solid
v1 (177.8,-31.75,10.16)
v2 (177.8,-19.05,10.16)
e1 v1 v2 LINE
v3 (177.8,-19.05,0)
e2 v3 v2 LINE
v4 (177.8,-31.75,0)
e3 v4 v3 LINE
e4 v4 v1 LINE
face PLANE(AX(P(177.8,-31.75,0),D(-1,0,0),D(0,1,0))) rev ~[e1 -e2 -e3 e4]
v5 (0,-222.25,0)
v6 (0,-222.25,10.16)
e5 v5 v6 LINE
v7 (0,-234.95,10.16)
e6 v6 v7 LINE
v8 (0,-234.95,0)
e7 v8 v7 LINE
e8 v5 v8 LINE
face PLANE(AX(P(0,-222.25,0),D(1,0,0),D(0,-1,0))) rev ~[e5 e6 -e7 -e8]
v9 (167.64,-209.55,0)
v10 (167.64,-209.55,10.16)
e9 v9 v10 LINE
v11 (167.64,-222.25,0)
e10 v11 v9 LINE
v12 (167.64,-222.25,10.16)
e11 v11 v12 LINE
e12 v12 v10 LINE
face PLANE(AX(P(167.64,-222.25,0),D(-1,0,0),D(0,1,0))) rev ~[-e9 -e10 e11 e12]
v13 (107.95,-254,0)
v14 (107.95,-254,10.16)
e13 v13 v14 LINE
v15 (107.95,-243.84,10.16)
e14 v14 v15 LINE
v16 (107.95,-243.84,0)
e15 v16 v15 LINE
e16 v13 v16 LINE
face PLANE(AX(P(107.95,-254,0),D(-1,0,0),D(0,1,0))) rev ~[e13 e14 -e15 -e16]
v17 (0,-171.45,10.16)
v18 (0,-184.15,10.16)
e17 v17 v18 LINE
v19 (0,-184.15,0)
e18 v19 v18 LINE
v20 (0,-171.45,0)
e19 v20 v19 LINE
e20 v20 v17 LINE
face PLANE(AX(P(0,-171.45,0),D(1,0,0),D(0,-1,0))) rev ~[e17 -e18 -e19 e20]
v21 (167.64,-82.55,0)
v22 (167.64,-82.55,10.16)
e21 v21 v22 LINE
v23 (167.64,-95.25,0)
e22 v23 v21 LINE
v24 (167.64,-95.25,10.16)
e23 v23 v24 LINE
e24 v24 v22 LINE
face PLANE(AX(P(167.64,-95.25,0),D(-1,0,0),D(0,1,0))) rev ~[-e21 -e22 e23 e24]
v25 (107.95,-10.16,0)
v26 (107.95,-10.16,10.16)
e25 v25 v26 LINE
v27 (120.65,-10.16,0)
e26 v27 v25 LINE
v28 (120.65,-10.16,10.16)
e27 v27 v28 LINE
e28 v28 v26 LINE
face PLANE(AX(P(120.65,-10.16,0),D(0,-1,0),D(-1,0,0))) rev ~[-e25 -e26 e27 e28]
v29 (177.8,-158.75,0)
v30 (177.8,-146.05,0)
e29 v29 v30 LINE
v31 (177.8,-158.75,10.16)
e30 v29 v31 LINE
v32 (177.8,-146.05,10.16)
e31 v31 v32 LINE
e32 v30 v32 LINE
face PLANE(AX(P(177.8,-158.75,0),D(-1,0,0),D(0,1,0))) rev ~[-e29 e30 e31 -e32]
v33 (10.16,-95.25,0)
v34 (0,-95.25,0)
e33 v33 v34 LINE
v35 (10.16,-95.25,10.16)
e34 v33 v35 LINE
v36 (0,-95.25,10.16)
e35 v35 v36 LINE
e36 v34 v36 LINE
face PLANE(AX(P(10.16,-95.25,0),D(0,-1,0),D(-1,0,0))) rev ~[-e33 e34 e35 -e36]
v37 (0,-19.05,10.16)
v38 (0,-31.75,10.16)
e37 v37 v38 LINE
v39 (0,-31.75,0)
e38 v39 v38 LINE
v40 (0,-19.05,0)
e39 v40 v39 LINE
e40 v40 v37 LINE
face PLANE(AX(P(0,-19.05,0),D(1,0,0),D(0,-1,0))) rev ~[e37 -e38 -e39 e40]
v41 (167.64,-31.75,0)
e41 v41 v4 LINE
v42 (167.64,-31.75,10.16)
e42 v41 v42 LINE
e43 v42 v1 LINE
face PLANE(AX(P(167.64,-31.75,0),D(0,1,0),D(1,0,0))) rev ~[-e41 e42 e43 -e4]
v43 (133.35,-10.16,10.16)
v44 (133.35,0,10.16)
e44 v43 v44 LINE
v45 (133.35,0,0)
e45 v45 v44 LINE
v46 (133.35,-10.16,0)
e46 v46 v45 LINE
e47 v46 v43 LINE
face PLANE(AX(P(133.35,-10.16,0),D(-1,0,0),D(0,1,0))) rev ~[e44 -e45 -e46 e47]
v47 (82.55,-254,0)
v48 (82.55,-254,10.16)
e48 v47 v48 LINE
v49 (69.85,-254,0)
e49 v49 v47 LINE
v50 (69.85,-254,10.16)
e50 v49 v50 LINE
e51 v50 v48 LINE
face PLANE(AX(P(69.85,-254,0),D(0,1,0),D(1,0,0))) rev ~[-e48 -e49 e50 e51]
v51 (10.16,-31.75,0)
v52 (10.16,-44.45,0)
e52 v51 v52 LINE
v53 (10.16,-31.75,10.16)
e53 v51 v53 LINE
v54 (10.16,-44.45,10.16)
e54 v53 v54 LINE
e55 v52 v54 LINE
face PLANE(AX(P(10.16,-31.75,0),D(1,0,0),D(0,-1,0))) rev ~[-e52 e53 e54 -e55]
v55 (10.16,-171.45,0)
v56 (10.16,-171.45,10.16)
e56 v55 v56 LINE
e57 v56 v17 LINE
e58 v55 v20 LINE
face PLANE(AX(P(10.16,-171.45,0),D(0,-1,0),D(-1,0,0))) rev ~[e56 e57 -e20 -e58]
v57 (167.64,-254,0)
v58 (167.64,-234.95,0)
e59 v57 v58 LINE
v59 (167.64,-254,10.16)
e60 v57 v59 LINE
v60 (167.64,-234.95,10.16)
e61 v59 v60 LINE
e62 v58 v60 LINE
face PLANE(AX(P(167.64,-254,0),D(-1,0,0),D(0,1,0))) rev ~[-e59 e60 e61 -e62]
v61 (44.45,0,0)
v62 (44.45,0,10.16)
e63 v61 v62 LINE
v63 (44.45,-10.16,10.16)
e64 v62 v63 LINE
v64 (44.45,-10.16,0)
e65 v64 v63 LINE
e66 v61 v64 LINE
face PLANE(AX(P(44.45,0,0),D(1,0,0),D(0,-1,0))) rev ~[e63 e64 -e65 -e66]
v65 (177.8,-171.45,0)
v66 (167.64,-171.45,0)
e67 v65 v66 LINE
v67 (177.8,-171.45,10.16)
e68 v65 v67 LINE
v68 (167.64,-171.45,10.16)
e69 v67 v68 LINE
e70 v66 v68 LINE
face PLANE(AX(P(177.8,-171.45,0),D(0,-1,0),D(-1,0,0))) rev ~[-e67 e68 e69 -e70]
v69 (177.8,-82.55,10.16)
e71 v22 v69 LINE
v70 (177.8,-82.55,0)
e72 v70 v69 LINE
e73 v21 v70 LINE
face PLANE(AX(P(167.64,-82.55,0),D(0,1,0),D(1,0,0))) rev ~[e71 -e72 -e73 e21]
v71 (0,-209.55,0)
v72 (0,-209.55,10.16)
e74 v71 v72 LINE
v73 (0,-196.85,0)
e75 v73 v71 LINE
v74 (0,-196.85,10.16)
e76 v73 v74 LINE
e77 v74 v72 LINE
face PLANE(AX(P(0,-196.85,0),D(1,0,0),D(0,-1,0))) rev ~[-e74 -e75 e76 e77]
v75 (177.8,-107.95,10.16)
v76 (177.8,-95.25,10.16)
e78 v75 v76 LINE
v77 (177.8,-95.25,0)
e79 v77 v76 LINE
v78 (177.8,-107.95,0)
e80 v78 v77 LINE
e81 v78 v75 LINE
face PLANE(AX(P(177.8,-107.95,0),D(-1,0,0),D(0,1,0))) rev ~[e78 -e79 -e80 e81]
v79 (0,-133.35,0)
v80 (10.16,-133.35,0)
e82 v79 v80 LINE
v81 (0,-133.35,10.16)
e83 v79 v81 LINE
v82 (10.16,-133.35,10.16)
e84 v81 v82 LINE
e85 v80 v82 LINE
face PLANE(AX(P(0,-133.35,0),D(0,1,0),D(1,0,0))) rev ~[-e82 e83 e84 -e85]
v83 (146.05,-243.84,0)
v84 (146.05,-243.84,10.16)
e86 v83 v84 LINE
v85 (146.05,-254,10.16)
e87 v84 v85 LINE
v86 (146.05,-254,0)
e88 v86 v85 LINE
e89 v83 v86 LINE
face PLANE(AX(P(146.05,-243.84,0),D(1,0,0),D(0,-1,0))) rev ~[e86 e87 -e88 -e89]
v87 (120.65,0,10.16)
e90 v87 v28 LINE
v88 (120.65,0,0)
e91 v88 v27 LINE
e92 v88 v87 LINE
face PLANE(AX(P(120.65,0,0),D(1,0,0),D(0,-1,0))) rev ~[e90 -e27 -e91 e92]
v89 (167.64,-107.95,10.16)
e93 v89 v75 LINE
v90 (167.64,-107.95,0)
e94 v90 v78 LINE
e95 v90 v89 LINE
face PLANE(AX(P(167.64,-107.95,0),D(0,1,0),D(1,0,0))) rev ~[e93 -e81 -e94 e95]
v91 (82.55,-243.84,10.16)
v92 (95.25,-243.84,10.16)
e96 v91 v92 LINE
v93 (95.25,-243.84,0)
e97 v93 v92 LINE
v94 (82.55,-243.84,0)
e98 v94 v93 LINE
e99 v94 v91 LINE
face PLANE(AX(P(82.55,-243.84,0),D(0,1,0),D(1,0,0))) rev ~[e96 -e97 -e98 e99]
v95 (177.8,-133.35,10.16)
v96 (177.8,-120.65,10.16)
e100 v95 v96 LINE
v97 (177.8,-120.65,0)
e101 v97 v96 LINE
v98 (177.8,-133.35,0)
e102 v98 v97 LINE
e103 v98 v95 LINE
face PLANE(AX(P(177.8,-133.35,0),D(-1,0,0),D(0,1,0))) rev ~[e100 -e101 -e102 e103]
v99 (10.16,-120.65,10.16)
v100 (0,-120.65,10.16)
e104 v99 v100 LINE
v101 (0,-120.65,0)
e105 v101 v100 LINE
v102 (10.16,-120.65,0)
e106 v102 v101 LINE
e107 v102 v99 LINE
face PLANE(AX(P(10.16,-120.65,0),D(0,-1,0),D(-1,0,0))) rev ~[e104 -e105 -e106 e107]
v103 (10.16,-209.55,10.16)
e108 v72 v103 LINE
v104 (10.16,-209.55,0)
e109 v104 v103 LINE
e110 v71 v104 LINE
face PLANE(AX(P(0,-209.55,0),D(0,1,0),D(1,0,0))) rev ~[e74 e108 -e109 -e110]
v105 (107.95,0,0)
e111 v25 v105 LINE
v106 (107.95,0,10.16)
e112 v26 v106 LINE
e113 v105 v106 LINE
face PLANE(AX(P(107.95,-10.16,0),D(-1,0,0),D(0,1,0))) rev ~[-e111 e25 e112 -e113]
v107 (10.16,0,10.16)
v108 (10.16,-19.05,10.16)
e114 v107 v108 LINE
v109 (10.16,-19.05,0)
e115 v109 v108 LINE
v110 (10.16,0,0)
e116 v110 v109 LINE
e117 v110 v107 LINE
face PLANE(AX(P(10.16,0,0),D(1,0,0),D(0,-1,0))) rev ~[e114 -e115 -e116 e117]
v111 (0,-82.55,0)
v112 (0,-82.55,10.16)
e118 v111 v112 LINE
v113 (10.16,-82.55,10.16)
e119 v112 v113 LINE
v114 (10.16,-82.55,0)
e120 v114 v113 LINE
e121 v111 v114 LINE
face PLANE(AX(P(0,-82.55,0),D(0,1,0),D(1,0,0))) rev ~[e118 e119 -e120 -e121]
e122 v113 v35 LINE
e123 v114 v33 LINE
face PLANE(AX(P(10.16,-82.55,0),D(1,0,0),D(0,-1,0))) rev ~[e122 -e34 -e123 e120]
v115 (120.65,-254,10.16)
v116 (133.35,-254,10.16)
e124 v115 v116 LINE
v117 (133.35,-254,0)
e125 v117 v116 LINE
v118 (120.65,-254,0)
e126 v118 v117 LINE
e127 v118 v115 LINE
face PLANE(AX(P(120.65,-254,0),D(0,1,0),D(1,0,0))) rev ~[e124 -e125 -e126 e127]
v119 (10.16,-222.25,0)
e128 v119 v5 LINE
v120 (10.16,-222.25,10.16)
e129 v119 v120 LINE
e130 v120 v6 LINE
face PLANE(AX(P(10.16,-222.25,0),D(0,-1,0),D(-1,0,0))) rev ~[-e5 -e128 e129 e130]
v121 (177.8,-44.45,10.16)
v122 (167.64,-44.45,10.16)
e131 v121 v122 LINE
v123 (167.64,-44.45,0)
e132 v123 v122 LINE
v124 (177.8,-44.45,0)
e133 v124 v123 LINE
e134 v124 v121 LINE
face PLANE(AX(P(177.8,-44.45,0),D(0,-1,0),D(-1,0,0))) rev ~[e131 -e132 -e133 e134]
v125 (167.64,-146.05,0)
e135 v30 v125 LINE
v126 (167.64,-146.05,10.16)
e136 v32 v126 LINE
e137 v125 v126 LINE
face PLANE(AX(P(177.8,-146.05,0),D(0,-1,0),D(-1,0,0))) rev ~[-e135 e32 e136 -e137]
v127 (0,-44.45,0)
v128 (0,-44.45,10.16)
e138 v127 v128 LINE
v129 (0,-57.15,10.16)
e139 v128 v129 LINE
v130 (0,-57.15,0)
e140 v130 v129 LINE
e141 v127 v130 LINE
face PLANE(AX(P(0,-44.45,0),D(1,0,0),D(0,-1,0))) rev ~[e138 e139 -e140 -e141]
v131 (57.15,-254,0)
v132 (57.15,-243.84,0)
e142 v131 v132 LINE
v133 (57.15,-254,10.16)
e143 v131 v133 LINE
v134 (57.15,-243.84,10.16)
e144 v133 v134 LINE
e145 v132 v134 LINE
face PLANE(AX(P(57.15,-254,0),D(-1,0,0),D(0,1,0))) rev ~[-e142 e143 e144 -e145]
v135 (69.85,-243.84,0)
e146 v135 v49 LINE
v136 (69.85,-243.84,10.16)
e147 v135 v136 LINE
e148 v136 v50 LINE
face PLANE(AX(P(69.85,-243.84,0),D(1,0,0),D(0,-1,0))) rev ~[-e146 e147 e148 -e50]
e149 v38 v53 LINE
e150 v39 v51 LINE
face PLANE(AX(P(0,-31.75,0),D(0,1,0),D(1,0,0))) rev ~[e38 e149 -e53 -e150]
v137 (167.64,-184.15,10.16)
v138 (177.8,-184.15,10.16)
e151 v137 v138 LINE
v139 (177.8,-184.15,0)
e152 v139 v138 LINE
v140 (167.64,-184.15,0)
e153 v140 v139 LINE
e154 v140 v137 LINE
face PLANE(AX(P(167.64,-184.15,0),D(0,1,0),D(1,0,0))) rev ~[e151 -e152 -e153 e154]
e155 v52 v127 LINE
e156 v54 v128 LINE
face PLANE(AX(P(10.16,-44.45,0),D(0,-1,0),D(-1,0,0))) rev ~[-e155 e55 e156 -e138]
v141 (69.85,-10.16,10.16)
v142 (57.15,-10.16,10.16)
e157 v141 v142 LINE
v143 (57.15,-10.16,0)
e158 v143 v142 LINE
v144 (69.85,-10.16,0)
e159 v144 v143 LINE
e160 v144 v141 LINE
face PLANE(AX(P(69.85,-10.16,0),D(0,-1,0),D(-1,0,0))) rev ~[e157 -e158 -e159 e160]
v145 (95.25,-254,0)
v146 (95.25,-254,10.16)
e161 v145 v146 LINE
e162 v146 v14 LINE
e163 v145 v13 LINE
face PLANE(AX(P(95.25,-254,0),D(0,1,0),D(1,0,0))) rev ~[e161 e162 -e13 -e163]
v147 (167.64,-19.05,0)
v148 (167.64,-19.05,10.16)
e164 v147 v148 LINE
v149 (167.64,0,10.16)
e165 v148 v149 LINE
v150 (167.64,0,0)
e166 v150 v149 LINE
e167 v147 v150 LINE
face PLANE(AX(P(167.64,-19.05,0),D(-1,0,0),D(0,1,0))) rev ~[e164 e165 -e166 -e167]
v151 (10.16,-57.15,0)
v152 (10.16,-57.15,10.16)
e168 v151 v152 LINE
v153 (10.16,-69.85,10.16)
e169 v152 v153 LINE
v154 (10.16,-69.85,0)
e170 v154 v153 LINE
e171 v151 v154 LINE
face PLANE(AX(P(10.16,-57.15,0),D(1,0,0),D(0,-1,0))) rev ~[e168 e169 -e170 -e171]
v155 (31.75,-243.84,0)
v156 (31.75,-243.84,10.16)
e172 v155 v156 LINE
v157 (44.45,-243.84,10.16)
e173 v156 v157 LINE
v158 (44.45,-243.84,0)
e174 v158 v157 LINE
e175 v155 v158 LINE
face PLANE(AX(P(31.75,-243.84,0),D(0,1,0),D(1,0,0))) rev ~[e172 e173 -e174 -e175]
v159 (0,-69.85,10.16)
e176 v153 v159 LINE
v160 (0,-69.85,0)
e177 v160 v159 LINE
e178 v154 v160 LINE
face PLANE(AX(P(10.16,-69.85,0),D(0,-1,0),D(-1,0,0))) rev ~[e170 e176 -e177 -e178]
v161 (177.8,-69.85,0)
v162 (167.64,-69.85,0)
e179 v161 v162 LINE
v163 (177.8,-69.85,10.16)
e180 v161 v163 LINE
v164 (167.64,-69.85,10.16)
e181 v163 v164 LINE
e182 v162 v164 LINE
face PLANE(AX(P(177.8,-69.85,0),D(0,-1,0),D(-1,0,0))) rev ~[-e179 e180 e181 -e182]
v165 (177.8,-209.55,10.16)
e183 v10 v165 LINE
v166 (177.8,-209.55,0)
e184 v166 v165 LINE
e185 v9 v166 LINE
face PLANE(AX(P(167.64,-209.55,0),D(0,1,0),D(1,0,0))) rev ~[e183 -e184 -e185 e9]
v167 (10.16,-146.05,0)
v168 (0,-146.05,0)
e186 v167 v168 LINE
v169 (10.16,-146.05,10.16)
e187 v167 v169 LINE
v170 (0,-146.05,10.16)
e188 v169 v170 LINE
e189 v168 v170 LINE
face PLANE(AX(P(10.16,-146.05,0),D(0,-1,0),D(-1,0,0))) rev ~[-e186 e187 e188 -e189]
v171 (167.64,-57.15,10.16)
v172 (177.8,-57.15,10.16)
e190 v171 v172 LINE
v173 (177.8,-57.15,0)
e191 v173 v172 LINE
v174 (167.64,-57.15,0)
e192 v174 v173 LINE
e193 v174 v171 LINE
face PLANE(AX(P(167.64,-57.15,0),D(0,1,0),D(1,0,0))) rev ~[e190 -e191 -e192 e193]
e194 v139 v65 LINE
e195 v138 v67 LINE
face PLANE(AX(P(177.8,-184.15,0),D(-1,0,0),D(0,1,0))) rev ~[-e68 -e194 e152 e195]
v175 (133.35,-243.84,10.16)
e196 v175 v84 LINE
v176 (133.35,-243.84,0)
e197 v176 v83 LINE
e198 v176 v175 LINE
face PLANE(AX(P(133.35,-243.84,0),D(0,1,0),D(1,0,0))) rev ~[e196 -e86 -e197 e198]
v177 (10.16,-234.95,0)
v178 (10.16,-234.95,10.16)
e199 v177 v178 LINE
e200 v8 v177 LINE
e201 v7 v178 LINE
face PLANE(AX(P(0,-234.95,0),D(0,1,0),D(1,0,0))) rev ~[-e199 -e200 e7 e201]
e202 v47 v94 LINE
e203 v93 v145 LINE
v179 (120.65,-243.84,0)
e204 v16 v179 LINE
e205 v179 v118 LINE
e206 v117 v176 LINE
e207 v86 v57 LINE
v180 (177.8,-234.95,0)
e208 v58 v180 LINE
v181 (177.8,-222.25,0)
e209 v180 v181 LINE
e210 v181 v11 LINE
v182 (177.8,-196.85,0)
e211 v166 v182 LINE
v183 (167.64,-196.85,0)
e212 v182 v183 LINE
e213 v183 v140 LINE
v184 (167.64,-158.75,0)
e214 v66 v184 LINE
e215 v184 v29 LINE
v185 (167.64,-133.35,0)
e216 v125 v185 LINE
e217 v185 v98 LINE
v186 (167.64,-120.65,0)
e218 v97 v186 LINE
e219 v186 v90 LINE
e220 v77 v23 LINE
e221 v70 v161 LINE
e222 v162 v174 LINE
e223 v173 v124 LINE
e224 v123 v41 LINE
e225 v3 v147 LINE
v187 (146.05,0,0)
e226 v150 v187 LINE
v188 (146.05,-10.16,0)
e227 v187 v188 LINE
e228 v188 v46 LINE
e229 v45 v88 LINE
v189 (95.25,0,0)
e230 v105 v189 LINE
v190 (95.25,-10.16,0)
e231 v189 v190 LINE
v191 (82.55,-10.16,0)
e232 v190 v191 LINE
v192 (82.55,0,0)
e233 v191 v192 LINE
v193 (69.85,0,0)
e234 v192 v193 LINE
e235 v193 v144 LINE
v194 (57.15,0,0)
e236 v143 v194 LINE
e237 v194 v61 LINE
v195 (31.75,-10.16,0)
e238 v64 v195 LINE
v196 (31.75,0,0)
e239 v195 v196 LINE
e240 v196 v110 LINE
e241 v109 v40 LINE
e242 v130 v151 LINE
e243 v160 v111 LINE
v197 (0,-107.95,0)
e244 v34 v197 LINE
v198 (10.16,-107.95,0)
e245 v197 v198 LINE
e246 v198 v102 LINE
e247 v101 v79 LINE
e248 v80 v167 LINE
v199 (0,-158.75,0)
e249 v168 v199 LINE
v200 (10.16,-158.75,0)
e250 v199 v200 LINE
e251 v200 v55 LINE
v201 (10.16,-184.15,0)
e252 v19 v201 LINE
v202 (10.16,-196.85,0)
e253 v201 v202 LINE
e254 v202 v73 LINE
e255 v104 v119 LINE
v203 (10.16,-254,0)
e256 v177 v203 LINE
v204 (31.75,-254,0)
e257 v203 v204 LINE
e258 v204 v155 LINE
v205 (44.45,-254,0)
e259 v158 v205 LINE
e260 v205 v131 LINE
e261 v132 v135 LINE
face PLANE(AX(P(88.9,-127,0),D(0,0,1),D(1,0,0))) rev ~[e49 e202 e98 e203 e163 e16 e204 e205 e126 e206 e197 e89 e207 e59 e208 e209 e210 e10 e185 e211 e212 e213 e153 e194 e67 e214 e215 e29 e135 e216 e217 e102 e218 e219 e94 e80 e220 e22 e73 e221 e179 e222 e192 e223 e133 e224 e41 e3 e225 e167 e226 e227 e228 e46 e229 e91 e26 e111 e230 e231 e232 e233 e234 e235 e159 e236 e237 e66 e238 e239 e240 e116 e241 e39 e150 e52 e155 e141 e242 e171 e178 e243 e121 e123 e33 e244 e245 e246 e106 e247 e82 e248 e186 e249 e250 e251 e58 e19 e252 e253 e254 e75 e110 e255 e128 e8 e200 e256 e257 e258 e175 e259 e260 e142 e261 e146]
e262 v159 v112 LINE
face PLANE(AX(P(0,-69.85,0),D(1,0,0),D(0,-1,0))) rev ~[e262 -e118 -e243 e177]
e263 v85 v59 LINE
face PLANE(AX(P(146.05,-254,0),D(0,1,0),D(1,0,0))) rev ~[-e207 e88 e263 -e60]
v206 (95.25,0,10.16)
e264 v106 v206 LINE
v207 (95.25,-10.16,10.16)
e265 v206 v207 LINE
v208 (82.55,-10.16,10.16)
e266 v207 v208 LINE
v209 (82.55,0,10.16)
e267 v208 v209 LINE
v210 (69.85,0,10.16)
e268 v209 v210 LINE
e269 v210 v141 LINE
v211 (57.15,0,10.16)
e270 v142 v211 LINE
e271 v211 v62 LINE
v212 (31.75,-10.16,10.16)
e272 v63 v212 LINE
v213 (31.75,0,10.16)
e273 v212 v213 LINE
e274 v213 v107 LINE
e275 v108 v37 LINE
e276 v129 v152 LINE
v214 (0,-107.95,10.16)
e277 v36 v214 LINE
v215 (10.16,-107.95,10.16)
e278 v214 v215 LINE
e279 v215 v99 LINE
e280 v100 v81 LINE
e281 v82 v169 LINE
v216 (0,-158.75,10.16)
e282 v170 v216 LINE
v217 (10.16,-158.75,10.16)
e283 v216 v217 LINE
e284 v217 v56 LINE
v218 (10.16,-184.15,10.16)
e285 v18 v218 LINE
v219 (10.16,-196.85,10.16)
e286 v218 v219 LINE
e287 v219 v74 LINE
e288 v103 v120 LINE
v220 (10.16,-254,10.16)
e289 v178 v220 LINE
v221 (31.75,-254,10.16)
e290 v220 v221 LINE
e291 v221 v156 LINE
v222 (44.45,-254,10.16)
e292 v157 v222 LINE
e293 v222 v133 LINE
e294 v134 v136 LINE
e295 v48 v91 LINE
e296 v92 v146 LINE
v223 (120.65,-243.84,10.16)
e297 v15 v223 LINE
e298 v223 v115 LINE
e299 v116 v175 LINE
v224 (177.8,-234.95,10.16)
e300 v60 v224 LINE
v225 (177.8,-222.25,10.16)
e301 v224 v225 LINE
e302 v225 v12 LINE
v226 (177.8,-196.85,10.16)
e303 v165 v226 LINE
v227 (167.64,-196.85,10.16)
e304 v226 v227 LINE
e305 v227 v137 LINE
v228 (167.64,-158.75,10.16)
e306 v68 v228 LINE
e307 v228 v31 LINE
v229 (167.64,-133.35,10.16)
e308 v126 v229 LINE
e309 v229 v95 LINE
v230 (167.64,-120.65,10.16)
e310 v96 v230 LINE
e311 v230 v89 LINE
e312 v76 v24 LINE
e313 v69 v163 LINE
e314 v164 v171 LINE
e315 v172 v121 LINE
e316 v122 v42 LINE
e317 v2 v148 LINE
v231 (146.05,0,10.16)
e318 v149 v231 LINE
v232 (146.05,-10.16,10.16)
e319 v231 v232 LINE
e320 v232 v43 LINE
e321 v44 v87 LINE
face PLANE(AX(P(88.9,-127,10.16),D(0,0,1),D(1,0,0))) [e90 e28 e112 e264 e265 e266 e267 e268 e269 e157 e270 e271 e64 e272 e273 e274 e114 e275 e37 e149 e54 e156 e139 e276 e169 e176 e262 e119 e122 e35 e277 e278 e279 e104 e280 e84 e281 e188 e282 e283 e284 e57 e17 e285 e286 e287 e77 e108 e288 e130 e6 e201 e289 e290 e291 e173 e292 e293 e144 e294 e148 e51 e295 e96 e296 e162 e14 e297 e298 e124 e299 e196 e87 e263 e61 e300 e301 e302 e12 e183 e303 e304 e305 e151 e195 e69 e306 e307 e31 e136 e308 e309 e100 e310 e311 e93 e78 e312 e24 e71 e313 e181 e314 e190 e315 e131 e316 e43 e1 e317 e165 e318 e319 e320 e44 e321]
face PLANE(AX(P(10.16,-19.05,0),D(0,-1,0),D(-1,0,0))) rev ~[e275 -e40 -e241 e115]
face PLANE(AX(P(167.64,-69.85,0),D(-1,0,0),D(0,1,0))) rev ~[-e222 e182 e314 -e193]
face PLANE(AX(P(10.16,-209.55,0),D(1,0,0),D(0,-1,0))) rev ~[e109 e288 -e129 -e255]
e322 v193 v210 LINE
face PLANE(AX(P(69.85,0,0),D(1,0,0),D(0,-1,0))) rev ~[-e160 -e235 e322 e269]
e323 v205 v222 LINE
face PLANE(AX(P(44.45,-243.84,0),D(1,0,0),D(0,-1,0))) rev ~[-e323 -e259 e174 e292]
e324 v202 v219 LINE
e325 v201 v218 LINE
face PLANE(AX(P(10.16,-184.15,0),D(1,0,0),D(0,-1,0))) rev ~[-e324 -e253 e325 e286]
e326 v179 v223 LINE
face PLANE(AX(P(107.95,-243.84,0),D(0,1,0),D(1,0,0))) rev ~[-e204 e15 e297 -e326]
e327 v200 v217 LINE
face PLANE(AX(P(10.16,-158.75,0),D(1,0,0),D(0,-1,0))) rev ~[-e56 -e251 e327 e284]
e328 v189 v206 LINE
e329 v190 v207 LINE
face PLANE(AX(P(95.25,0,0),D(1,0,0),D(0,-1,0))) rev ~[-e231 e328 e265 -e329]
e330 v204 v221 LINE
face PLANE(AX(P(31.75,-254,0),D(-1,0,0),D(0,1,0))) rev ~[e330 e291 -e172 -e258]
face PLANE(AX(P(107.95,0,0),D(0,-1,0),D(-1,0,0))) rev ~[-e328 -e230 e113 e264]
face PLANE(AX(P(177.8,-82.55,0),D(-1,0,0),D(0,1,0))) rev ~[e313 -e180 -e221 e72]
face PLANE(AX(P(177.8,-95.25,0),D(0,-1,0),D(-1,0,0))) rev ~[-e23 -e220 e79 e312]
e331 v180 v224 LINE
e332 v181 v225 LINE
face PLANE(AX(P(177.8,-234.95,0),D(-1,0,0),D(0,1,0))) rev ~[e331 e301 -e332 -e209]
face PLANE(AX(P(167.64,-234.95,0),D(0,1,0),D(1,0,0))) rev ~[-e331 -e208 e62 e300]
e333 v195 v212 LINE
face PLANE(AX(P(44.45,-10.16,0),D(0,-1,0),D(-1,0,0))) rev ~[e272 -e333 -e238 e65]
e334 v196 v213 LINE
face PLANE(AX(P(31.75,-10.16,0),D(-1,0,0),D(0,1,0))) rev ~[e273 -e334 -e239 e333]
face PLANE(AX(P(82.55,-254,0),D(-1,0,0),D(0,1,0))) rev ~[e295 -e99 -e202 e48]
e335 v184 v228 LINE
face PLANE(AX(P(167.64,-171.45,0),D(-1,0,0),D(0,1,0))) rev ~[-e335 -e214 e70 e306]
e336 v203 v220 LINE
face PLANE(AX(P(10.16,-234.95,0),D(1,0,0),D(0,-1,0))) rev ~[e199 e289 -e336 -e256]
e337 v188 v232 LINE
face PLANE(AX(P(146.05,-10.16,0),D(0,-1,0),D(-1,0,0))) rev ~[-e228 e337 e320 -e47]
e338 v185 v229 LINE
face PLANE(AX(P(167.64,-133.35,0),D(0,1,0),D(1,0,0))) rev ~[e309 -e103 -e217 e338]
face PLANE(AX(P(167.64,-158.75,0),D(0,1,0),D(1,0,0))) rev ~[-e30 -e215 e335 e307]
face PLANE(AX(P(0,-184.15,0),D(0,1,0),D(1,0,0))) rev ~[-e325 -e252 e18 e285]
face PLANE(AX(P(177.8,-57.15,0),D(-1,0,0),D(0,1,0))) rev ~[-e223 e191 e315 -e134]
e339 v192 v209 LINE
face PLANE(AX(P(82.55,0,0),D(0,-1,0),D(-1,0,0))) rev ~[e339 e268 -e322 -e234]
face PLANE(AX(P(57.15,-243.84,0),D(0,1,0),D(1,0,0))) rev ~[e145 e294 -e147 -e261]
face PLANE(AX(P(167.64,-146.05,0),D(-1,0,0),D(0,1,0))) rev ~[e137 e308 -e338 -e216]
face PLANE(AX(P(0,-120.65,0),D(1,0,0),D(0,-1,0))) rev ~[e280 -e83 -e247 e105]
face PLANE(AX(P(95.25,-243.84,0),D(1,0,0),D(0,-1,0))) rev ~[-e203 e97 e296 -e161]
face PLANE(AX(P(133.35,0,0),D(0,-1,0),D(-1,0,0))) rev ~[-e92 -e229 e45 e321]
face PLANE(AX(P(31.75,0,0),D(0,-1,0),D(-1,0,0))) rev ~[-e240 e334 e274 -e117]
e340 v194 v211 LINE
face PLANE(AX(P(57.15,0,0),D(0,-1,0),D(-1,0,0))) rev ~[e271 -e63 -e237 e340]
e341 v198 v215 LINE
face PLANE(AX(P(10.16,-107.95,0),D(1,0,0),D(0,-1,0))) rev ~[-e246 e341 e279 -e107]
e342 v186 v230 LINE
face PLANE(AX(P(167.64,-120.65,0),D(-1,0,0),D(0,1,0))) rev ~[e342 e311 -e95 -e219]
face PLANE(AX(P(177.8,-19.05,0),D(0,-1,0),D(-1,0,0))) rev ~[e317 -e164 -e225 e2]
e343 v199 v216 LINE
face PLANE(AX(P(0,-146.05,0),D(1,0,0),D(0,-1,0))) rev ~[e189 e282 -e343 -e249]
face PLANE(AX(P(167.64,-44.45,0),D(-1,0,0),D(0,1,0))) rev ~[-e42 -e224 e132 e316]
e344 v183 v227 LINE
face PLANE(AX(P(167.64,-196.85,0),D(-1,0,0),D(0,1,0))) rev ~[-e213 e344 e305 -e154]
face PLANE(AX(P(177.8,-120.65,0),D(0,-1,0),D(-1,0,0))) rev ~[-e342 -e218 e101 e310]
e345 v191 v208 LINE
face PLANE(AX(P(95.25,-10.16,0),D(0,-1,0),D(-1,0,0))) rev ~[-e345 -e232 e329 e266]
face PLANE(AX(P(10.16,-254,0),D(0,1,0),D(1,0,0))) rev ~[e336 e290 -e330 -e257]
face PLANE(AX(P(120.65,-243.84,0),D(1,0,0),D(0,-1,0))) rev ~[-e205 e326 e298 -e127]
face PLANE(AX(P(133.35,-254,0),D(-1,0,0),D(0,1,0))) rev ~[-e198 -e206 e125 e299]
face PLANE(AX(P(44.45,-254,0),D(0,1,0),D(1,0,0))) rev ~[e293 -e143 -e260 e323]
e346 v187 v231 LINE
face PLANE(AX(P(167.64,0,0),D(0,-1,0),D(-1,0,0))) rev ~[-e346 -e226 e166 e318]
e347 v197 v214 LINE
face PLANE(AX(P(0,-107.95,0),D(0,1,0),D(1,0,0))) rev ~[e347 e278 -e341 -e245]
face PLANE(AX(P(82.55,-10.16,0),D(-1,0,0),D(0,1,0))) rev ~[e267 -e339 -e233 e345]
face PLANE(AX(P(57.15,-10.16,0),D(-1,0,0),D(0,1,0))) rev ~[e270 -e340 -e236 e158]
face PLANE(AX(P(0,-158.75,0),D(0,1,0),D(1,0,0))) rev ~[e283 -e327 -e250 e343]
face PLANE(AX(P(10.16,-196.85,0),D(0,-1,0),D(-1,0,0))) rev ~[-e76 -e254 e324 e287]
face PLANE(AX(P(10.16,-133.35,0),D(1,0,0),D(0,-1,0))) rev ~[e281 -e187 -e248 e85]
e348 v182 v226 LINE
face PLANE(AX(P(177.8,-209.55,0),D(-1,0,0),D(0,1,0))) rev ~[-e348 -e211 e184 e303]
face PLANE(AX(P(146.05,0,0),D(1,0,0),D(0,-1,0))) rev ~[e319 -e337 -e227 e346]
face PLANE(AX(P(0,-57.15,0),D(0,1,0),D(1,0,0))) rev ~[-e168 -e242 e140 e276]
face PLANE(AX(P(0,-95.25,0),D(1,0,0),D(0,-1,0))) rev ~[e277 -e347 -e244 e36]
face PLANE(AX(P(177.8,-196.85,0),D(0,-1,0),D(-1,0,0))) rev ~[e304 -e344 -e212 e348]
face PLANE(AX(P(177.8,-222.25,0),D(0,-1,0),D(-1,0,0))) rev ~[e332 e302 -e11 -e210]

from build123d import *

# Parameters (mm, degrees)
F1_DEPTH = 10.16


with BuildPart() as f1:
    # F0 (on Top) → F1 (new body)
    with BuildSketch(Plane.XY):
        Polygon((31.75, 0), (10.16, 0), (10.16, -19.05), (0, -19.05), (0, -31.75), (10.16, -31.75), (10.16, -44.45), (0, -44.45), (0, -57.15), (10.16, -57.15), (10.16, -69.85), (0, -69.85), (0, -82.55), (10.16, -82.55), (10.16, -95.25), (0, -95.25), (0, -107.95), (10.16, -107.95), (10.16, -120.65), (0, -120.65), (0, -133.35), (10.16, -133.35), (10.16, -146.05), (0, -146.05), (0, -158.75), (10.16, -158.75), (10.16, -171.45), (0, -171.45), (0, -184.15), (10.16, -184.15), (10.16, -196.85), (0, -196.85), (0, -209.55), (10.16, -209.55), (10.16, -222.25), (0, -222.25), (0, -234.95), (10.16, -234.95), (10.16, -254), (31.75, -254), (31.75, -243.84), (44.45, -243.84), (44.45, -254), (57.15, -254), (57.15, -243.84), (69.85, -243.84), (69.85, -254), (82.55, -254), (82.55, -243.84), (95.25, -243.84), (95.25, -254), (107.95, -254), (107.95, -243.84), (120.65, -243.84), (120.65, -254), (133.35, -254), (133.35, -243.84), (146.05, -243.84), (146.05, -254), (167.64, -254), (167.64, -234.95), (177.8, -234.95), (177.8, -222.25), (167.64, -222.25), (167.64, -209.55), (177.8, -209.55), (177.8, -196.85), (167.64, -196.85), (167.64, -184.15), (177.8, -184.15), (177.8, -171.45), (167.64, -171.45), (167.64, -158.75), (177.8, -158.75), (177.8, -146.05), (167.64, -146.05), (167.64, -133.35), (177.8, -133.35), (177.8, -120.65), (167.64, -120.65), (167.64, -107.95), (177.8, -107.95), (177.8, -95.25), (167.64, -95.25), (167.64, -82.55), (177.8, -82.55), (177.8, -69.85), (167.64, -69.85), (167.64, -57.15), (177.8, -57.15), (177.8, -44.45), (167.64, -44.45), (167.64, -31.75), (177.8, -31.75), (177.8, -19.05), (167.64, -19.05), (167.64, 0), (146.05, 0), (146.05, -10.16), (133.35, -10.16), (133.35, 0), (120.65, 0), (120.65, -10.16), (107.95, -10.16), (107.95, 0), (95.25, 0), (95.25, -10.16), (82.55, -10.16), (82.55, 0), (69.85, 0), (69.85, -10.16), (57.15, -10.16), (57.15, 0), (44.45, 0), (44.45, -10.16), (31.75, -10.16), align=None)
    extrude(amount=F1_DEPTH)


solid = f1.part
